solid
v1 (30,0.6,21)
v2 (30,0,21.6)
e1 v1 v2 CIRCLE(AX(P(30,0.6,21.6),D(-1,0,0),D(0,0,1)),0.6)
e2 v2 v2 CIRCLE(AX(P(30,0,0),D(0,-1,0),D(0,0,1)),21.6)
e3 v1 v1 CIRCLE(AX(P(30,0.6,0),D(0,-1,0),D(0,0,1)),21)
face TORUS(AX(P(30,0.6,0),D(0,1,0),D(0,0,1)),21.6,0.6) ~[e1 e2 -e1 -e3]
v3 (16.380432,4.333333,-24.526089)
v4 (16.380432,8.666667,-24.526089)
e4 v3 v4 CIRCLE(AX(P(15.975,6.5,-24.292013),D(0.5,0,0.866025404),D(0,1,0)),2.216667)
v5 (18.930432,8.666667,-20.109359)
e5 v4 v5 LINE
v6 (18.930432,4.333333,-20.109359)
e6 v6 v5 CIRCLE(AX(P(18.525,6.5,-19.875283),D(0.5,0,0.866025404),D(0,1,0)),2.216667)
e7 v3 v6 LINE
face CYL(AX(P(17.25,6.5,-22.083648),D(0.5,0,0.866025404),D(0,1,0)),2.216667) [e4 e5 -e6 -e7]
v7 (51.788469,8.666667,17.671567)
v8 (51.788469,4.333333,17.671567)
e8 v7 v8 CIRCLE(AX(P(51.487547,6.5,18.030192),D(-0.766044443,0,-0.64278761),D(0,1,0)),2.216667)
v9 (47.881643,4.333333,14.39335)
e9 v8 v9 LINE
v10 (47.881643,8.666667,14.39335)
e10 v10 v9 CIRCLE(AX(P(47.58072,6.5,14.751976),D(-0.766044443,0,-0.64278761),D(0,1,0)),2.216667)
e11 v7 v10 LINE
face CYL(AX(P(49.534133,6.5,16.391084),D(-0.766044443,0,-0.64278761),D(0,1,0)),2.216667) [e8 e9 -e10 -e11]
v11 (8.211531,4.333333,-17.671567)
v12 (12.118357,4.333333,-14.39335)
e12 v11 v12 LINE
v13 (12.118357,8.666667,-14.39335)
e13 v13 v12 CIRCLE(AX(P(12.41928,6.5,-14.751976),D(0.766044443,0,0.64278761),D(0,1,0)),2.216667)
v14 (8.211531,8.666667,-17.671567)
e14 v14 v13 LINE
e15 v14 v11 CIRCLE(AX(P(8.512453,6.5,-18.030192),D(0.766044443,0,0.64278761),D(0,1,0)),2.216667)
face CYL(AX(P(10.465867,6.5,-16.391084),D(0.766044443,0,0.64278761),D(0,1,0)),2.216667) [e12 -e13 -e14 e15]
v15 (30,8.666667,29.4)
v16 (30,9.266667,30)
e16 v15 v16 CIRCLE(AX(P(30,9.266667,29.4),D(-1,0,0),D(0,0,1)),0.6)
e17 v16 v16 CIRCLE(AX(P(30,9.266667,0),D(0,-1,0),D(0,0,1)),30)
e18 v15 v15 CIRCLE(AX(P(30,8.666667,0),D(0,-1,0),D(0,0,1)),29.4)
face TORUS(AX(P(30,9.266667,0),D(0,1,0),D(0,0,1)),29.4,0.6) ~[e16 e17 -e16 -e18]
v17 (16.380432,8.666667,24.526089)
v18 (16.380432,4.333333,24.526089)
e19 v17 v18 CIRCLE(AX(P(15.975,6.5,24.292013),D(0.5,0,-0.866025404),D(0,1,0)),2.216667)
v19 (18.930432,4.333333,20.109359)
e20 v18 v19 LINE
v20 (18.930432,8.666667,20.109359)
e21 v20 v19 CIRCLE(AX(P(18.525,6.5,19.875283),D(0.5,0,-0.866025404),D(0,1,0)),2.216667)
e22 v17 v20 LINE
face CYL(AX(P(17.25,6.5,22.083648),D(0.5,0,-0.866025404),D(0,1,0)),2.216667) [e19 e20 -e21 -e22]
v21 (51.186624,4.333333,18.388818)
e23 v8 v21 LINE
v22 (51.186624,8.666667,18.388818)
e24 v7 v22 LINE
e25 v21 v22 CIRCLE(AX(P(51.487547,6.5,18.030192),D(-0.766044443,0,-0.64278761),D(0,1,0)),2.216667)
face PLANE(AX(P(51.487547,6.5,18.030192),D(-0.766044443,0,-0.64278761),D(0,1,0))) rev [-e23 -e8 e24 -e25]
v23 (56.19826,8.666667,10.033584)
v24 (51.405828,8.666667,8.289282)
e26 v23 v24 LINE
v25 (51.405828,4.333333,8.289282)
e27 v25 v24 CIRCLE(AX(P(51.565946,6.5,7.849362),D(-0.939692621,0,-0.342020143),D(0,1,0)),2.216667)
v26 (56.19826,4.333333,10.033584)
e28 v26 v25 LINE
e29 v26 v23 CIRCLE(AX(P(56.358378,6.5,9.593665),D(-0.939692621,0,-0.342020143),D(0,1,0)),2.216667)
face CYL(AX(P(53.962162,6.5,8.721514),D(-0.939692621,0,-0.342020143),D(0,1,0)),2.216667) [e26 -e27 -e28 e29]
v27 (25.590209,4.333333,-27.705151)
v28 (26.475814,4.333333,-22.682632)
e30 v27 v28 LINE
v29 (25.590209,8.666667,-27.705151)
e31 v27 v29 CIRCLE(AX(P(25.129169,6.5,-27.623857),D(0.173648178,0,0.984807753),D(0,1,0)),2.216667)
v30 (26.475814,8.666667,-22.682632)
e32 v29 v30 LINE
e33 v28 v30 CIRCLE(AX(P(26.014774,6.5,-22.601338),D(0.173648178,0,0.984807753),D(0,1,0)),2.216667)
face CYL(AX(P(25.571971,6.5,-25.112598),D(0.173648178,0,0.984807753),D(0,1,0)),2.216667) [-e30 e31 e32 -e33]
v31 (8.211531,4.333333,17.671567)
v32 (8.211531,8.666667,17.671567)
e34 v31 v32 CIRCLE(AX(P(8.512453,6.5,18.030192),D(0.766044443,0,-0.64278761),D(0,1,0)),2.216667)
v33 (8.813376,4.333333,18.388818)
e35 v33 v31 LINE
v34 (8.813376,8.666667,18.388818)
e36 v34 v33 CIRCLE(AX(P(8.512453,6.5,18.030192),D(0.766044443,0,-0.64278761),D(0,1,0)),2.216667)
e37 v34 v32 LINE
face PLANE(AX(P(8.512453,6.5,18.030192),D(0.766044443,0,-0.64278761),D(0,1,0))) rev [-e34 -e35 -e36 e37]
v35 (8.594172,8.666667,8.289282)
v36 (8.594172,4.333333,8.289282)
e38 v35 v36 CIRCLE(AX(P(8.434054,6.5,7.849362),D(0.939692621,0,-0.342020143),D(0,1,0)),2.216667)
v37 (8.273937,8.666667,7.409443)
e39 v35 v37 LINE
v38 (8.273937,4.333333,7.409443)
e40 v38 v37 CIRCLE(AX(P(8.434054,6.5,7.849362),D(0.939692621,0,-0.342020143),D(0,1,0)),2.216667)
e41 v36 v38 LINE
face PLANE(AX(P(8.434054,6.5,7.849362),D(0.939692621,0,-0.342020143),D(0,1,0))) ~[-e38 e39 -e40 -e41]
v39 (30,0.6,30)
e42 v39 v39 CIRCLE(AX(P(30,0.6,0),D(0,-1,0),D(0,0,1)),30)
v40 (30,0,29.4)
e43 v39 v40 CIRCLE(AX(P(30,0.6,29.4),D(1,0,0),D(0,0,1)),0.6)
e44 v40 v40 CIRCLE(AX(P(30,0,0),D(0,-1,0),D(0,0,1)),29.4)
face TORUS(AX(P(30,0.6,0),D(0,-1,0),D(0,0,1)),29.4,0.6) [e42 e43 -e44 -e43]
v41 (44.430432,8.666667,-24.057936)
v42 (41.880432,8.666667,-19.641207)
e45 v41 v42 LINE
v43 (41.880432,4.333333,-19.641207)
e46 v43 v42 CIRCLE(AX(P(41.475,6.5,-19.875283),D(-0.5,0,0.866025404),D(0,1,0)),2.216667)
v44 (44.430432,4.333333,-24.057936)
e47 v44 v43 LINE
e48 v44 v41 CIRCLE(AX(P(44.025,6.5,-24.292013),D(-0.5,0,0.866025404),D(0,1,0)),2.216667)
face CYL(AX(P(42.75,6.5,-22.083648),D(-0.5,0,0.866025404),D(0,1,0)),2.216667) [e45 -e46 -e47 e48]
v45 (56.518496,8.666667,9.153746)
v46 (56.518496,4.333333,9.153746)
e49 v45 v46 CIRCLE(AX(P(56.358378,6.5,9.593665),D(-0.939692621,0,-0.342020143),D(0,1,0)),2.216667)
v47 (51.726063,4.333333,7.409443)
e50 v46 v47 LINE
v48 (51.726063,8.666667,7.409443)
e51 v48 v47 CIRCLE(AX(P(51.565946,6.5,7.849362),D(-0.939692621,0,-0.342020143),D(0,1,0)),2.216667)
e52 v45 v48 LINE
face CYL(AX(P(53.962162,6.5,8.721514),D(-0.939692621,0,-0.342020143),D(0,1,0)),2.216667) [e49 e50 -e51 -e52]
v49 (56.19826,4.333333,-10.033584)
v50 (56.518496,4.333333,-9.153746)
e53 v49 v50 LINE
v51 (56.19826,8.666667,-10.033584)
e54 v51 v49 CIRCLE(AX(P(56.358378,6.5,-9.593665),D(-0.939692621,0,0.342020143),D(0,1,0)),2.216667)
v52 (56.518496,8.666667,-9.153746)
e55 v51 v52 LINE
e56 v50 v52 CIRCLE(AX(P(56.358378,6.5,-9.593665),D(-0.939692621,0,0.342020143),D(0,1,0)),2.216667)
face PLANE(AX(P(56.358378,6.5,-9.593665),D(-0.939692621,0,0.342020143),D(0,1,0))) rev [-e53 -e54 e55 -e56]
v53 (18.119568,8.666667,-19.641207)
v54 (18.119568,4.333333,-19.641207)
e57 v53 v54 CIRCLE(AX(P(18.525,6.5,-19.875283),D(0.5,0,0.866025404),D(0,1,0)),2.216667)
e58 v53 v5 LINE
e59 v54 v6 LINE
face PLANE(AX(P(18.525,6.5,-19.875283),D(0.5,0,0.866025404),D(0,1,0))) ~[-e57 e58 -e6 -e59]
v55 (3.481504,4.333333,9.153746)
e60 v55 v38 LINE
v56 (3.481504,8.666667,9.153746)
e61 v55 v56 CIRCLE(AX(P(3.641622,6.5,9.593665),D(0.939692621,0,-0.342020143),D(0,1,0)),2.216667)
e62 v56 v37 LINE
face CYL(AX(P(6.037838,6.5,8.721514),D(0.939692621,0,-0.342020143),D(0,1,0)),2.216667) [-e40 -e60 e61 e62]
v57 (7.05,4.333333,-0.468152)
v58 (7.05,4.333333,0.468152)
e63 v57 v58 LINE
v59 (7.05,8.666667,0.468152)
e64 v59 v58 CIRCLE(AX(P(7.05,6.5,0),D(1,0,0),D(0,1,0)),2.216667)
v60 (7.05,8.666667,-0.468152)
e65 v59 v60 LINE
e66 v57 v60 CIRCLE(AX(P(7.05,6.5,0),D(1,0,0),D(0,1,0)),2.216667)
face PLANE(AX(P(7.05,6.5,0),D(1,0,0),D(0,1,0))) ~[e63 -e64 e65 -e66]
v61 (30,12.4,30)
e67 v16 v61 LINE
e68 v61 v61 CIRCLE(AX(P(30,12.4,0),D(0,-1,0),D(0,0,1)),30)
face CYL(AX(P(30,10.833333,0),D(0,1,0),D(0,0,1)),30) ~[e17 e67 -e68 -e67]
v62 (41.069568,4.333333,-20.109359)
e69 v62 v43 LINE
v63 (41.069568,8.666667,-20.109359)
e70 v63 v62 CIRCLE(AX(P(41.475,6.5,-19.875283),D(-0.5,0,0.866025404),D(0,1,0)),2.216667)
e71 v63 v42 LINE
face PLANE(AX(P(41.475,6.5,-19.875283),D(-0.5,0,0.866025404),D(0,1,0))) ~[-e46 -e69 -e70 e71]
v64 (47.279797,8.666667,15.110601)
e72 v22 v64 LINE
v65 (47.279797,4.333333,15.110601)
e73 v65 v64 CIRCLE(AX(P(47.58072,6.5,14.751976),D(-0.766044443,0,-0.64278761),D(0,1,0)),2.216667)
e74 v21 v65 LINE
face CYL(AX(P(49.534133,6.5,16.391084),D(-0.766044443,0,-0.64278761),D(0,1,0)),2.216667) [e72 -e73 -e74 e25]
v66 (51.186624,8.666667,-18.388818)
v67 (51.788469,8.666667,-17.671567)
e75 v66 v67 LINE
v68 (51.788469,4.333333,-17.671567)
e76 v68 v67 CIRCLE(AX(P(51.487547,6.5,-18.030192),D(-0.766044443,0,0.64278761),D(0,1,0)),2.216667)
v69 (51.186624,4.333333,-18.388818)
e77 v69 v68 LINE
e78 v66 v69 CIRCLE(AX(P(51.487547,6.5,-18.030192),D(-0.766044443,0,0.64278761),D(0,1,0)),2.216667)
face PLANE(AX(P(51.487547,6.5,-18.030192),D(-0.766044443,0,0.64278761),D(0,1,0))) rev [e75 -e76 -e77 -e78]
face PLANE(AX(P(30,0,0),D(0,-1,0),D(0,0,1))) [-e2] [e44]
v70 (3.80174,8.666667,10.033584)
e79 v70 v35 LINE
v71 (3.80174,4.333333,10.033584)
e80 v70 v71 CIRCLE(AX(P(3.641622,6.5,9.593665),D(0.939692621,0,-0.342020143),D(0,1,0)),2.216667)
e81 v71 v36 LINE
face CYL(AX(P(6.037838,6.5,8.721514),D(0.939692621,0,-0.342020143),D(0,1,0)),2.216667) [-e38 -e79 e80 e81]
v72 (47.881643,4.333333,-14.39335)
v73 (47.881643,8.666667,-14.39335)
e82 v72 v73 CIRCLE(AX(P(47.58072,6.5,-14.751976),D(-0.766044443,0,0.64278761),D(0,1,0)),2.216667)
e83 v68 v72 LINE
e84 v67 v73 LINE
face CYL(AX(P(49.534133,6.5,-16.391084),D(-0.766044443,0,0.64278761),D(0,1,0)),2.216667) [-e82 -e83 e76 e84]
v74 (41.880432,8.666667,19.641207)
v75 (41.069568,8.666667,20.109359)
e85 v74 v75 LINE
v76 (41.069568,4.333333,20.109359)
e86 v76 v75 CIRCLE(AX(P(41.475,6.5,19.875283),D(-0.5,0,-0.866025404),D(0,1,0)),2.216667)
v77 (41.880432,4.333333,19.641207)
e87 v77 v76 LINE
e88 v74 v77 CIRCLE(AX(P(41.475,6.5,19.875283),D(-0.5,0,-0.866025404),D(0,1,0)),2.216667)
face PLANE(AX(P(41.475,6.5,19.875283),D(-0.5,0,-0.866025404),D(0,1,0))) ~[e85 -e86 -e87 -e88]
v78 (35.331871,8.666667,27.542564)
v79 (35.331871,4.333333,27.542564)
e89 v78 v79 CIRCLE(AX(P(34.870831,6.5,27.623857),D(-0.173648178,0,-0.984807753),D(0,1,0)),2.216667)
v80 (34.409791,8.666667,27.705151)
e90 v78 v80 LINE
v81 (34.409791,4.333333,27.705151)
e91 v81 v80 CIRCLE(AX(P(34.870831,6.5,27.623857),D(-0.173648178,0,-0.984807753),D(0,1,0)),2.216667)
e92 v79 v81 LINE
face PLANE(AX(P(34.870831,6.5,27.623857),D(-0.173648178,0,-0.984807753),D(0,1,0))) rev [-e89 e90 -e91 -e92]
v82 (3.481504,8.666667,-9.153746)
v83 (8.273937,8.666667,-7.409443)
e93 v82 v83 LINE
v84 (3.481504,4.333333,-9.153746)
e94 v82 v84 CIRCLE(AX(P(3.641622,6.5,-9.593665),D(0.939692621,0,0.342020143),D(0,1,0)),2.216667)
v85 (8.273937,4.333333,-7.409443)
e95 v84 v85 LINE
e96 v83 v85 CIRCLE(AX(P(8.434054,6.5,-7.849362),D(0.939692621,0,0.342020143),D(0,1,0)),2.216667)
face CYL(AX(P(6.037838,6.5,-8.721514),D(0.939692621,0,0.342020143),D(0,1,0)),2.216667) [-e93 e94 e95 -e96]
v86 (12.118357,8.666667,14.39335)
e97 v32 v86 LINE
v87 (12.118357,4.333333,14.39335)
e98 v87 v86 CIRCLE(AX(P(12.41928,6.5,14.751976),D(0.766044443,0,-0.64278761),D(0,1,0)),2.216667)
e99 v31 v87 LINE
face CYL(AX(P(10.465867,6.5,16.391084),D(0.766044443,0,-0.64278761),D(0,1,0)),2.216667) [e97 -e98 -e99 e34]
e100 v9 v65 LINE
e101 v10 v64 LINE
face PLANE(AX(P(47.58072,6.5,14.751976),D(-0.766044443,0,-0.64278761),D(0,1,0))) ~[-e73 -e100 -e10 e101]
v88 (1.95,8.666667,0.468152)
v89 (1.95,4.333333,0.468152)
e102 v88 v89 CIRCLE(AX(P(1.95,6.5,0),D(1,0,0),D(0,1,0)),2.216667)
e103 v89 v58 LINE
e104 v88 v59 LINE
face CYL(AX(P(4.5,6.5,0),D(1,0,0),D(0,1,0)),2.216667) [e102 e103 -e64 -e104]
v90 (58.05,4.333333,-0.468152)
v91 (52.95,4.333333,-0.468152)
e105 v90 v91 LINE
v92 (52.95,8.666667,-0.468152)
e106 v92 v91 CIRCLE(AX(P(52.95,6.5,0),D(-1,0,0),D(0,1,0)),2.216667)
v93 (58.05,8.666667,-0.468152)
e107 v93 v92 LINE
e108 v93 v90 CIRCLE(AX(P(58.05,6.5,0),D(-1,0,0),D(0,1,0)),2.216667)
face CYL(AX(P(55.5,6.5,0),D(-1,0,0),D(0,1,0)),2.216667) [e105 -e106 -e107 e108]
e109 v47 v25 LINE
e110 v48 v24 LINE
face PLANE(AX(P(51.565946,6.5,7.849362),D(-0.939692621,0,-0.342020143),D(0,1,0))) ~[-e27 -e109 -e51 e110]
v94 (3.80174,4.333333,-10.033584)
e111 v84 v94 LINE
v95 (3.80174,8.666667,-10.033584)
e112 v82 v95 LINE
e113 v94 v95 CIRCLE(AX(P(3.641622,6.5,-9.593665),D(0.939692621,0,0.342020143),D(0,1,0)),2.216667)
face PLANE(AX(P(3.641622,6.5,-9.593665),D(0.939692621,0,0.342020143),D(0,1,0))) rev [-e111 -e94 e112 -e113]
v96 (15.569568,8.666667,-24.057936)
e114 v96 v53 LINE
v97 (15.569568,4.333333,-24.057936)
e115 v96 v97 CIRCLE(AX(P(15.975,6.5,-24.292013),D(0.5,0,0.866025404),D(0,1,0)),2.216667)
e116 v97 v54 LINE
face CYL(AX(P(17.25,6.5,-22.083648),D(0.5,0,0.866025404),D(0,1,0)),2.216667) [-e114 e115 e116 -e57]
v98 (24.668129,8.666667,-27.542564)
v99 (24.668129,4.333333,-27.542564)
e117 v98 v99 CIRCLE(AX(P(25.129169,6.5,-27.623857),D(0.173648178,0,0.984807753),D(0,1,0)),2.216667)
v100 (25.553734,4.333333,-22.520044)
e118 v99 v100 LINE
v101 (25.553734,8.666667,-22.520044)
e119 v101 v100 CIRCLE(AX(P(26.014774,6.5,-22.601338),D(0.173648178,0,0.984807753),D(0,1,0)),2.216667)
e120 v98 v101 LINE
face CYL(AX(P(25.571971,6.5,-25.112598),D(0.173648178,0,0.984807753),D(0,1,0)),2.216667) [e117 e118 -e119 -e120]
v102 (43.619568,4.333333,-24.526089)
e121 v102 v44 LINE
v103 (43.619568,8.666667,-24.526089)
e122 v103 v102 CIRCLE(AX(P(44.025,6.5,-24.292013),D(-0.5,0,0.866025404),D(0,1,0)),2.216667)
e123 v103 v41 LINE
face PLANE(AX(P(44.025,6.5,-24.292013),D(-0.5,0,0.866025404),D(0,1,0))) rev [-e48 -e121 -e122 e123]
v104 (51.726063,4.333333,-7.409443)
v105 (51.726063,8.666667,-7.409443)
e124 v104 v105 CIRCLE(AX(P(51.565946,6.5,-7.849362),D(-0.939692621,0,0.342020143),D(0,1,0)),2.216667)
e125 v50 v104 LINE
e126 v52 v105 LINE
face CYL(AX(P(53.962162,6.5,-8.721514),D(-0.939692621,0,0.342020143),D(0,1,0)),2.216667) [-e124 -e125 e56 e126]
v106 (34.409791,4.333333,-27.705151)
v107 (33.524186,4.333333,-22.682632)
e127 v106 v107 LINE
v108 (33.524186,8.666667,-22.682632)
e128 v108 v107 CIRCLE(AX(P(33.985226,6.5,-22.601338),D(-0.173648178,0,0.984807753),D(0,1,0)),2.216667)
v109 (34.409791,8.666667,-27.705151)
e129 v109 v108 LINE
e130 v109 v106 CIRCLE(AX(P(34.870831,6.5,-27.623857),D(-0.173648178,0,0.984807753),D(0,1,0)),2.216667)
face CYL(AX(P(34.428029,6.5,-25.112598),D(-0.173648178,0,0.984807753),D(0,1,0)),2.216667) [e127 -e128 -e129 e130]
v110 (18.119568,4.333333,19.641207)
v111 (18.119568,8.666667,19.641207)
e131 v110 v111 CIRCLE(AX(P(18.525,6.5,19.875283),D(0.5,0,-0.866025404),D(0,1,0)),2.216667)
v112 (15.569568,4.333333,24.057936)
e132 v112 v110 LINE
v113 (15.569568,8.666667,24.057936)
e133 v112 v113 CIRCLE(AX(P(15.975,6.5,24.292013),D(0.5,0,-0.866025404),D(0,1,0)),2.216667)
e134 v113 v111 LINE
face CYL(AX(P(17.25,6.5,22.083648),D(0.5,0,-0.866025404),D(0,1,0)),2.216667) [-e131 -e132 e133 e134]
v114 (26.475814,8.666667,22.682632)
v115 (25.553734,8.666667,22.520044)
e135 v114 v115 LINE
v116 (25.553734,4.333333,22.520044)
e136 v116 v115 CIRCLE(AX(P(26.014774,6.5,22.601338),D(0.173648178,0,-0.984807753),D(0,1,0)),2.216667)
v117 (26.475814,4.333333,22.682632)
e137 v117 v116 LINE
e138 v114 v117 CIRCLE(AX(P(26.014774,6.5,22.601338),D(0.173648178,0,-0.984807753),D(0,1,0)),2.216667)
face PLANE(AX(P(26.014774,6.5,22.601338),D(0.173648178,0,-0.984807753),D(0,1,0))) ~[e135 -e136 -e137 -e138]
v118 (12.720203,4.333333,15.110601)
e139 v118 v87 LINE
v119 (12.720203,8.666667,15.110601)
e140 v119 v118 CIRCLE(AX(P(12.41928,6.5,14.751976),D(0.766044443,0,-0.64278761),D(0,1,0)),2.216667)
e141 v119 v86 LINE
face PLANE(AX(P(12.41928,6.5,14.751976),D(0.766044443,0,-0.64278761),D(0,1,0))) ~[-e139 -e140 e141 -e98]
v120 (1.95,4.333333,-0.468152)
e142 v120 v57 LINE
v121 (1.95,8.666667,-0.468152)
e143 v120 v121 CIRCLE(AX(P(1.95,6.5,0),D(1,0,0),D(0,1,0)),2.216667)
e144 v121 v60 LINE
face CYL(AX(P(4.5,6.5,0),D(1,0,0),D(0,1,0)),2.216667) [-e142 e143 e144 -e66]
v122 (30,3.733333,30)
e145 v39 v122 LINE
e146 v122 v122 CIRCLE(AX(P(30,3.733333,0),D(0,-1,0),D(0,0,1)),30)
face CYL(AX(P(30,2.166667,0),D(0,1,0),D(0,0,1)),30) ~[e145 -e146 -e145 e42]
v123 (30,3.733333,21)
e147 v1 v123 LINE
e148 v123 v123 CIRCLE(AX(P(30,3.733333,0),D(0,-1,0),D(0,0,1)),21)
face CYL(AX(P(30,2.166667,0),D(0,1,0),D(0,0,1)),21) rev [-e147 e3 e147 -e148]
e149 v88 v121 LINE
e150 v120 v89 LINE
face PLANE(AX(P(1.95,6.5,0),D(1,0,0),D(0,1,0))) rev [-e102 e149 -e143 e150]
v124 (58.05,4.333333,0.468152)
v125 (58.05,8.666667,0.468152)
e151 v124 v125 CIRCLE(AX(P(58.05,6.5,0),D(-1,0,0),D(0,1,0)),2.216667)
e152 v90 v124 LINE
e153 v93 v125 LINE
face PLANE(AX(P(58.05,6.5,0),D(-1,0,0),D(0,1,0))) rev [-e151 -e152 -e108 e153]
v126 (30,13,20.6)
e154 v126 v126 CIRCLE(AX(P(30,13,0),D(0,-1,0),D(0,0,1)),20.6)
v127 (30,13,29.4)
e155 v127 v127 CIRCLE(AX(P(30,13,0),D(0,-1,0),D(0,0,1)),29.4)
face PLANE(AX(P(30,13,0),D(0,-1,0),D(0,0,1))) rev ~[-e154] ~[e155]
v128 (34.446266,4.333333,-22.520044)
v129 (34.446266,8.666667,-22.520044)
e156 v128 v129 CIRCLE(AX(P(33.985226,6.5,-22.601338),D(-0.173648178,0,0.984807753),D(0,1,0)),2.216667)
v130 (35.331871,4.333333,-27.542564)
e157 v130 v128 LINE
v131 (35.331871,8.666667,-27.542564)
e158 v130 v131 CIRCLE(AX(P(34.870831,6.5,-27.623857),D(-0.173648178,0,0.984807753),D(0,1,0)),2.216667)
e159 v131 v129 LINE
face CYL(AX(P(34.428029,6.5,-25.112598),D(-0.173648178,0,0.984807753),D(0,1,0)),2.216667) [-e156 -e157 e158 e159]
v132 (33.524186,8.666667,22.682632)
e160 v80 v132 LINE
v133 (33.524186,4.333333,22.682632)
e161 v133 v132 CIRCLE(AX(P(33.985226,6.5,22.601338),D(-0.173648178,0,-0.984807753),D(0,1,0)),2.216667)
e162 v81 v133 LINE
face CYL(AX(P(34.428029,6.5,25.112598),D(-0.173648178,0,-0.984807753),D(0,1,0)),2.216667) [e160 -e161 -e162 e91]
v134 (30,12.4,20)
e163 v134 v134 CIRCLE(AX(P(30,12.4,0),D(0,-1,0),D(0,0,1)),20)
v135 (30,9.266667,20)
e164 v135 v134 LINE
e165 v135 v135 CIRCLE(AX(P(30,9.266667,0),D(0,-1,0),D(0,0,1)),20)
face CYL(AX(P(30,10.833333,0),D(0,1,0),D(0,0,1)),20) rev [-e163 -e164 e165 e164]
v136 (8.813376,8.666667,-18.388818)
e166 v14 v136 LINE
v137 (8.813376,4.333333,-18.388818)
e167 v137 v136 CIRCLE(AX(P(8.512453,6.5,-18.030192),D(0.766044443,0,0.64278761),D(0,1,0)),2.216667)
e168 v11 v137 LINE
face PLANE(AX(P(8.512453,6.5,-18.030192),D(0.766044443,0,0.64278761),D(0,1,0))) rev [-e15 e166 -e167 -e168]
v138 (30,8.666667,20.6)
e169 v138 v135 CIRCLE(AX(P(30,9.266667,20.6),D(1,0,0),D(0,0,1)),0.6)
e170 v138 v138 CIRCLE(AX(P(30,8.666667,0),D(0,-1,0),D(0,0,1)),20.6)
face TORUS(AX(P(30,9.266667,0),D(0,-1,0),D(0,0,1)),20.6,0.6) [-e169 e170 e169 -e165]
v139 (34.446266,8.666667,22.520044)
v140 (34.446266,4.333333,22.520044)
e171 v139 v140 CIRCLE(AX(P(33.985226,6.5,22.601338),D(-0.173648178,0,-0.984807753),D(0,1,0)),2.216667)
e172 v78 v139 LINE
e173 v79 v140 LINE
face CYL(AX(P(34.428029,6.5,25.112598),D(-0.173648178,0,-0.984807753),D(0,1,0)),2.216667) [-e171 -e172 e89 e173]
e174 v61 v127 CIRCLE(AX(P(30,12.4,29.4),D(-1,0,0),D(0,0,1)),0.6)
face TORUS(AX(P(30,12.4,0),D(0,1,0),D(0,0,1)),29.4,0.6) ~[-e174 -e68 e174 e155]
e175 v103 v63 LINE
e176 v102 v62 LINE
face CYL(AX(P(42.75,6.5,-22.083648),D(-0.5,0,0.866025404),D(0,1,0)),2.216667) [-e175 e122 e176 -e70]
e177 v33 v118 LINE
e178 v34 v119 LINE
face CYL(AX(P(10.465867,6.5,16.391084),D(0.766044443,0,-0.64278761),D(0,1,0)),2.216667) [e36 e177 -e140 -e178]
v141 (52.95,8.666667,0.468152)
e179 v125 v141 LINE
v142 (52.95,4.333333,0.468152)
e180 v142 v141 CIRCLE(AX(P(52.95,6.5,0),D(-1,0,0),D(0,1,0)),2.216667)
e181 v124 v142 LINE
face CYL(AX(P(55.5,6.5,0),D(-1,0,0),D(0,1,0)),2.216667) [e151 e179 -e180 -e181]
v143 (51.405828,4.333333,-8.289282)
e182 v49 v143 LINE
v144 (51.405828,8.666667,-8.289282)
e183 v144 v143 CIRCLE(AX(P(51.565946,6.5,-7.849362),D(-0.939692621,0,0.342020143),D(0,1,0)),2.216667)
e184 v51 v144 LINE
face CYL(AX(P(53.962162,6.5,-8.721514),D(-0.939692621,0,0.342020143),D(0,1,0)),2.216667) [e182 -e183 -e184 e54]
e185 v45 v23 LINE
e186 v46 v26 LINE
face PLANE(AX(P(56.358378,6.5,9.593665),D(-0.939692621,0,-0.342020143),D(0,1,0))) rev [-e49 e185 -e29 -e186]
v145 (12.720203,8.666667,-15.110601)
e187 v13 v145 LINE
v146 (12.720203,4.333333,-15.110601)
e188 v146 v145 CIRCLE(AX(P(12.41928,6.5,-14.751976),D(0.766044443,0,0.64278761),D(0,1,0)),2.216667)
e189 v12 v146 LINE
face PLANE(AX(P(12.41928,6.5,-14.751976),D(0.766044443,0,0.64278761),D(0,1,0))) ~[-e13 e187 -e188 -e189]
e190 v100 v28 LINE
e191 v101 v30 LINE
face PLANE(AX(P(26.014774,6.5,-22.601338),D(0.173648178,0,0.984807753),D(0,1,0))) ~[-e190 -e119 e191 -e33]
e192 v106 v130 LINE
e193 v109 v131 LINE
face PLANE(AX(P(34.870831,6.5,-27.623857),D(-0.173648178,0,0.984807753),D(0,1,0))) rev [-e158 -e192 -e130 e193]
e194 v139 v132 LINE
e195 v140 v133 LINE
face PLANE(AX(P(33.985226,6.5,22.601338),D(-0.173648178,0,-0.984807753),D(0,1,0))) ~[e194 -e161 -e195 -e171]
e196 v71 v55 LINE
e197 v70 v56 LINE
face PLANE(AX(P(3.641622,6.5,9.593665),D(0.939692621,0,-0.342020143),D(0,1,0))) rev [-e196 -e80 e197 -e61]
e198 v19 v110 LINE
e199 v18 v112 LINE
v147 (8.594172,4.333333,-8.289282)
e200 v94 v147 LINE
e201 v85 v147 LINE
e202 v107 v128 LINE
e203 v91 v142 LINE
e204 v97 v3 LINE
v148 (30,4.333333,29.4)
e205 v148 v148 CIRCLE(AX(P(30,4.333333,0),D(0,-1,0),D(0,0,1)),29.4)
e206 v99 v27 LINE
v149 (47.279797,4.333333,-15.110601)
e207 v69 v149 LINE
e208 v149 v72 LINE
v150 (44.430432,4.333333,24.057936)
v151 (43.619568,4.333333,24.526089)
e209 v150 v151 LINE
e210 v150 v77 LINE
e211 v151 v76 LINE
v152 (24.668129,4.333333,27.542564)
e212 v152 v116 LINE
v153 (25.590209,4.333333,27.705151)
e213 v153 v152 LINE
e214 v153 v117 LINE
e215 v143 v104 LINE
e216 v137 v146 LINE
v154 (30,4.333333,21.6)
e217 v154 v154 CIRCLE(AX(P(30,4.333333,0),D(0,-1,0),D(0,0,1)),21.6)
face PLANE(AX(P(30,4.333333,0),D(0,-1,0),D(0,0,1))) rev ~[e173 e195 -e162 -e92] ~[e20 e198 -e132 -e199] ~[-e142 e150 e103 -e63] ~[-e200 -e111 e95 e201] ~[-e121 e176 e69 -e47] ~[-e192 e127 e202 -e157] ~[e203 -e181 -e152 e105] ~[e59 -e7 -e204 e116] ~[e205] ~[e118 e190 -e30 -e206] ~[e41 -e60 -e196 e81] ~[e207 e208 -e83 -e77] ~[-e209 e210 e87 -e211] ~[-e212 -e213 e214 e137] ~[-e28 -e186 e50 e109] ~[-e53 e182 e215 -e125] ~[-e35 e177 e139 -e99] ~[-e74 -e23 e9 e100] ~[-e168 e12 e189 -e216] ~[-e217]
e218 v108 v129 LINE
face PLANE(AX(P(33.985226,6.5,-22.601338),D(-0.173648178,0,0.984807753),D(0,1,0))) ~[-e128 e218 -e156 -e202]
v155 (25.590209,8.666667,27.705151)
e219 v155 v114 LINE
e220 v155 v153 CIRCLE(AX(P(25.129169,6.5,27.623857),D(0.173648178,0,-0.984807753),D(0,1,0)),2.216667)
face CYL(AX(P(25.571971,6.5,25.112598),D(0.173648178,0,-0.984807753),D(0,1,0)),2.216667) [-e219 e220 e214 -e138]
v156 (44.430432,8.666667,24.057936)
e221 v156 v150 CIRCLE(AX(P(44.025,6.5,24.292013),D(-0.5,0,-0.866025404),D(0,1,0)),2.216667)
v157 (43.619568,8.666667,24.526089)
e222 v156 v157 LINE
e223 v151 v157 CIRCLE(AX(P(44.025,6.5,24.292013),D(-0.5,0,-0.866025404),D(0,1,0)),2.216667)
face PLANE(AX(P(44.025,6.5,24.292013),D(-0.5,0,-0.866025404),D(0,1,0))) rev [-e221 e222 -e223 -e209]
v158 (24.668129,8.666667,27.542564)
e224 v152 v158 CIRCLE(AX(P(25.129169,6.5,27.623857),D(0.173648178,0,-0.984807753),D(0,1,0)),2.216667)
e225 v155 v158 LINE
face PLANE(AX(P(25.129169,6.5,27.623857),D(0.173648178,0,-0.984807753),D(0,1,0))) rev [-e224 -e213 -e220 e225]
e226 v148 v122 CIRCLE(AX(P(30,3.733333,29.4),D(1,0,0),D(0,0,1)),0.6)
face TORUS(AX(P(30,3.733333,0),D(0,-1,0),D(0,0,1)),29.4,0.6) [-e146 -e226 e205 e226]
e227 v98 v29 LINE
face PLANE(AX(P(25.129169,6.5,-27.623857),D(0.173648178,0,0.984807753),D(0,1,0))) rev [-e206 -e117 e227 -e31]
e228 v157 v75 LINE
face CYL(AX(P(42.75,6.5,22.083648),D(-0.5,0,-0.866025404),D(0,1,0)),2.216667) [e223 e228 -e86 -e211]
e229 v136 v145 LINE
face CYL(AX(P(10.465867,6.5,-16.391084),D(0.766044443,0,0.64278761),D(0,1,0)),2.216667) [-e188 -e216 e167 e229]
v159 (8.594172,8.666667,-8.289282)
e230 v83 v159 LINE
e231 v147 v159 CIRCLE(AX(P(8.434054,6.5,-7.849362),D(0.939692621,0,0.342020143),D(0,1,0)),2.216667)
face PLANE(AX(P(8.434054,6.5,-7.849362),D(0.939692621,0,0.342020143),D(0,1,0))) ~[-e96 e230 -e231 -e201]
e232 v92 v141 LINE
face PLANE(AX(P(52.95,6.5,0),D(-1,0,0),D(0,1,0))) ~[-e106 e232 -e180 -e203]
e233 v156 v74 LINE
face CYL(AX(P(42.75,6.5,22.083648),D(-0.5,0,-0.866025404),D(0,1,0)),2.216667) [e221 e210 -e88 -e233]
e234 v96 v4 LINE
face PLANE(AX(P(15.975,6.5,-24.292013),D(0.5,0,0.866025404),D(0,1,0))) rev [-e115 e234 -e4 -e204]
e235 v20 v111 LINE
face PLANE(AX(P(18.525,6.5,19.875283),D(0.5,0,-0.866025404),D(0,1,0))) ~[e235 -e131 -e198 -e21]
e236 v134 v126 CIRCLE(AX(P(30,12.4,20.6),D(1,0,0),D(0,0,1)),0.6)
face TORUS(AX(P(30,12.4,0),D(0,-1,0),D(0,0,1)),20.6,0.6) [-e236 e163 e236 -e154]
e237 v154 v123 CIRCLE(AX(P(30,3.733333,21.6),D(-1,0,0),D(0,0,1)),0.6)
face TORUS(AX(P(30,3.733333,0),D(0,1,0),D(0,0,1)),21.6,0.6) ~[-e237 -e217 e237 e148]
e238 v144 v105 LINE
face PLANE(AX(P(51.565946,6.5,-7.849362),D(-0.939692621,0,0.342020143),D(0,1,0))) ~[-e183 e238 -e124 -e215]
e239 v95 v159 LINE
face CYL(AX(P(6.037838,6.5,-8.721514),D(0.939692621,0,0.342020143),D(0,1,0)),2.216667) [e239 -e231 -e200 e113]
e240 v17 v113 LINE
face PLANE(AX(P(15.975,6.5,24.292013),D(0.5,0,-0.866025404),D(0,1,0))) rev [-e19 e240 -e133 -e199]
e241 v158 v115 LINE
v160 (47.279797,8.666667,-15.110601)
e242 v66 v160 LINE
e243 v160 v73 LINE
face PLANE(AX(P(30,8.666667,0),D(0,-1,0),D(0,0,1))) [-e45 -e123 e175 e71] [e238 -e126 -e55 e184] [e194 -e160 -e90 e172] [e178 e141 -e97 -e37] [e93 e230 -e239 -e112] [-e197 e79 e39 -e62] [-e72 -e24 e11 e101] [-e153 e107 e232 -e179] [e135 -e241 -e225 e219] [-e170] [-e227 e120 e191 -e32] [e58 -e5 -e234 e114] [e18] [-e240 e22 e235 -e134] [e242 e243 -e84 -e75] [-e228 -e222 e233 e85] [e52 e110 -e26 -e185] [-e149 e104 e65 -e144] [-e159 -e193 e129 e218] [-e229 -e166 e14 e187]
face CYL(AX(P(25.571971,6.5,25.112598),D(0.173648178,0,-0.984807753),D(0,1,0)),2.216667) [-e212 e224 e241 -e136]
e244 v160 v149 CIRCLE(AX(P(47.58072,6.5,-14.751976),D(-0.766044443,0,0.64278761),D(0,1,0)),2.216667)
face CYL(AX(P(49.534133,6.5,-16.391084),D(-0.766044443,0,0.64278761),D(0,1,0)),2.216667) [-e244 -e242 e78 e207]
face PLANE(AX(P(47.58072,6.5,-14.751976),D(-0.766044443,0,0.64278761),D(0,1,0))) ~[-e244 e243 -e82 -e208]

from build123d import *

# Parameters (mm, degrees)
SKETCH_2_W               = 10
SKETCH_2_H               = 4.333333333
SKETCH_3_W               = 5.1
SKETCH_3_H               = 2.216666667
SKETCH_4_W               = 9
SKETCH_4_H               = 4.333333333
PATTERN_CIRCULAR_1_COUNT = 18
FILLET_1_R               = 0.6


with BuildPart() as part:
    # 草图2 → Revolve 717 (revolve)
    with BuildSketch(Plane.XY, mode=Mode.PRIVATE) as revolve_717_sk:
        with Locations((5, 10.833333334)):
            Rectangle(SKETCH_2_W, SKETCH_2_H)
    revolve(revolve_717_sk.sketch.rotate(Axis((30, 13, 0), (0, -1, 0)), 270), axis=Axis((30, 13, 0), (0, -1, 0)))

    # 草图3 → 凸台-旋转1 (revolve)
    with BuildSketch(Plane.XY):
        with Locations((4.5, 7.608333334)):
            Rectangle(SKETCH_3_W, SKETCH_3_H)
    revolve_1 = revolve(axis=Axis((0, 6.5, 0), (1, 0, 0)))

    # 草图4 → 凸台-旋转2 (revolve)
    with BuildSketch(Plane.XY, mode=Mode.PRIVATE) as revolve_2_sk:
        with Locations((4.5, 2.166666667)):
            Rectangle(SKETCH_4_W, SKETCH_4_H)
    revolve(revolve_2_sk.sketch.rotate(Axis((30, 13, 0), (0, -1, 0)), 270), axis=Axis((30, 13, 0), (0, -1, 0)))

    # 阵列(圆周)1: 凸台-旋转1 ×18 about axis
    pattern_circular_1_axis = Axis((30, 0, 0), (0, 1, 0))
    for i in range(1, PATTERN_CIRCULAR_1_COUNT):
        add(revolve_1.rotate(pattern_circular_1_axis, i * 360 / PATTERN_CIRCULAR_1_COUNT))

    # 圆角1
    fillet_1_edges = [part.edges().sort_by_distance(p)[0] for p in [
        (30, 4.333333333, -30),
        (30, 0, -21),
        (30, 4.333333333, -21),
        (30, 0, -30),
        (30, 13, -30),
        (30, 8.666666667, -30),
        (30, 8.666666667, -20),
        (30, 13, -20),
    ]]
    fillet(fillet_1_edges, radius=FILLET_1_R)


solid = part.part
